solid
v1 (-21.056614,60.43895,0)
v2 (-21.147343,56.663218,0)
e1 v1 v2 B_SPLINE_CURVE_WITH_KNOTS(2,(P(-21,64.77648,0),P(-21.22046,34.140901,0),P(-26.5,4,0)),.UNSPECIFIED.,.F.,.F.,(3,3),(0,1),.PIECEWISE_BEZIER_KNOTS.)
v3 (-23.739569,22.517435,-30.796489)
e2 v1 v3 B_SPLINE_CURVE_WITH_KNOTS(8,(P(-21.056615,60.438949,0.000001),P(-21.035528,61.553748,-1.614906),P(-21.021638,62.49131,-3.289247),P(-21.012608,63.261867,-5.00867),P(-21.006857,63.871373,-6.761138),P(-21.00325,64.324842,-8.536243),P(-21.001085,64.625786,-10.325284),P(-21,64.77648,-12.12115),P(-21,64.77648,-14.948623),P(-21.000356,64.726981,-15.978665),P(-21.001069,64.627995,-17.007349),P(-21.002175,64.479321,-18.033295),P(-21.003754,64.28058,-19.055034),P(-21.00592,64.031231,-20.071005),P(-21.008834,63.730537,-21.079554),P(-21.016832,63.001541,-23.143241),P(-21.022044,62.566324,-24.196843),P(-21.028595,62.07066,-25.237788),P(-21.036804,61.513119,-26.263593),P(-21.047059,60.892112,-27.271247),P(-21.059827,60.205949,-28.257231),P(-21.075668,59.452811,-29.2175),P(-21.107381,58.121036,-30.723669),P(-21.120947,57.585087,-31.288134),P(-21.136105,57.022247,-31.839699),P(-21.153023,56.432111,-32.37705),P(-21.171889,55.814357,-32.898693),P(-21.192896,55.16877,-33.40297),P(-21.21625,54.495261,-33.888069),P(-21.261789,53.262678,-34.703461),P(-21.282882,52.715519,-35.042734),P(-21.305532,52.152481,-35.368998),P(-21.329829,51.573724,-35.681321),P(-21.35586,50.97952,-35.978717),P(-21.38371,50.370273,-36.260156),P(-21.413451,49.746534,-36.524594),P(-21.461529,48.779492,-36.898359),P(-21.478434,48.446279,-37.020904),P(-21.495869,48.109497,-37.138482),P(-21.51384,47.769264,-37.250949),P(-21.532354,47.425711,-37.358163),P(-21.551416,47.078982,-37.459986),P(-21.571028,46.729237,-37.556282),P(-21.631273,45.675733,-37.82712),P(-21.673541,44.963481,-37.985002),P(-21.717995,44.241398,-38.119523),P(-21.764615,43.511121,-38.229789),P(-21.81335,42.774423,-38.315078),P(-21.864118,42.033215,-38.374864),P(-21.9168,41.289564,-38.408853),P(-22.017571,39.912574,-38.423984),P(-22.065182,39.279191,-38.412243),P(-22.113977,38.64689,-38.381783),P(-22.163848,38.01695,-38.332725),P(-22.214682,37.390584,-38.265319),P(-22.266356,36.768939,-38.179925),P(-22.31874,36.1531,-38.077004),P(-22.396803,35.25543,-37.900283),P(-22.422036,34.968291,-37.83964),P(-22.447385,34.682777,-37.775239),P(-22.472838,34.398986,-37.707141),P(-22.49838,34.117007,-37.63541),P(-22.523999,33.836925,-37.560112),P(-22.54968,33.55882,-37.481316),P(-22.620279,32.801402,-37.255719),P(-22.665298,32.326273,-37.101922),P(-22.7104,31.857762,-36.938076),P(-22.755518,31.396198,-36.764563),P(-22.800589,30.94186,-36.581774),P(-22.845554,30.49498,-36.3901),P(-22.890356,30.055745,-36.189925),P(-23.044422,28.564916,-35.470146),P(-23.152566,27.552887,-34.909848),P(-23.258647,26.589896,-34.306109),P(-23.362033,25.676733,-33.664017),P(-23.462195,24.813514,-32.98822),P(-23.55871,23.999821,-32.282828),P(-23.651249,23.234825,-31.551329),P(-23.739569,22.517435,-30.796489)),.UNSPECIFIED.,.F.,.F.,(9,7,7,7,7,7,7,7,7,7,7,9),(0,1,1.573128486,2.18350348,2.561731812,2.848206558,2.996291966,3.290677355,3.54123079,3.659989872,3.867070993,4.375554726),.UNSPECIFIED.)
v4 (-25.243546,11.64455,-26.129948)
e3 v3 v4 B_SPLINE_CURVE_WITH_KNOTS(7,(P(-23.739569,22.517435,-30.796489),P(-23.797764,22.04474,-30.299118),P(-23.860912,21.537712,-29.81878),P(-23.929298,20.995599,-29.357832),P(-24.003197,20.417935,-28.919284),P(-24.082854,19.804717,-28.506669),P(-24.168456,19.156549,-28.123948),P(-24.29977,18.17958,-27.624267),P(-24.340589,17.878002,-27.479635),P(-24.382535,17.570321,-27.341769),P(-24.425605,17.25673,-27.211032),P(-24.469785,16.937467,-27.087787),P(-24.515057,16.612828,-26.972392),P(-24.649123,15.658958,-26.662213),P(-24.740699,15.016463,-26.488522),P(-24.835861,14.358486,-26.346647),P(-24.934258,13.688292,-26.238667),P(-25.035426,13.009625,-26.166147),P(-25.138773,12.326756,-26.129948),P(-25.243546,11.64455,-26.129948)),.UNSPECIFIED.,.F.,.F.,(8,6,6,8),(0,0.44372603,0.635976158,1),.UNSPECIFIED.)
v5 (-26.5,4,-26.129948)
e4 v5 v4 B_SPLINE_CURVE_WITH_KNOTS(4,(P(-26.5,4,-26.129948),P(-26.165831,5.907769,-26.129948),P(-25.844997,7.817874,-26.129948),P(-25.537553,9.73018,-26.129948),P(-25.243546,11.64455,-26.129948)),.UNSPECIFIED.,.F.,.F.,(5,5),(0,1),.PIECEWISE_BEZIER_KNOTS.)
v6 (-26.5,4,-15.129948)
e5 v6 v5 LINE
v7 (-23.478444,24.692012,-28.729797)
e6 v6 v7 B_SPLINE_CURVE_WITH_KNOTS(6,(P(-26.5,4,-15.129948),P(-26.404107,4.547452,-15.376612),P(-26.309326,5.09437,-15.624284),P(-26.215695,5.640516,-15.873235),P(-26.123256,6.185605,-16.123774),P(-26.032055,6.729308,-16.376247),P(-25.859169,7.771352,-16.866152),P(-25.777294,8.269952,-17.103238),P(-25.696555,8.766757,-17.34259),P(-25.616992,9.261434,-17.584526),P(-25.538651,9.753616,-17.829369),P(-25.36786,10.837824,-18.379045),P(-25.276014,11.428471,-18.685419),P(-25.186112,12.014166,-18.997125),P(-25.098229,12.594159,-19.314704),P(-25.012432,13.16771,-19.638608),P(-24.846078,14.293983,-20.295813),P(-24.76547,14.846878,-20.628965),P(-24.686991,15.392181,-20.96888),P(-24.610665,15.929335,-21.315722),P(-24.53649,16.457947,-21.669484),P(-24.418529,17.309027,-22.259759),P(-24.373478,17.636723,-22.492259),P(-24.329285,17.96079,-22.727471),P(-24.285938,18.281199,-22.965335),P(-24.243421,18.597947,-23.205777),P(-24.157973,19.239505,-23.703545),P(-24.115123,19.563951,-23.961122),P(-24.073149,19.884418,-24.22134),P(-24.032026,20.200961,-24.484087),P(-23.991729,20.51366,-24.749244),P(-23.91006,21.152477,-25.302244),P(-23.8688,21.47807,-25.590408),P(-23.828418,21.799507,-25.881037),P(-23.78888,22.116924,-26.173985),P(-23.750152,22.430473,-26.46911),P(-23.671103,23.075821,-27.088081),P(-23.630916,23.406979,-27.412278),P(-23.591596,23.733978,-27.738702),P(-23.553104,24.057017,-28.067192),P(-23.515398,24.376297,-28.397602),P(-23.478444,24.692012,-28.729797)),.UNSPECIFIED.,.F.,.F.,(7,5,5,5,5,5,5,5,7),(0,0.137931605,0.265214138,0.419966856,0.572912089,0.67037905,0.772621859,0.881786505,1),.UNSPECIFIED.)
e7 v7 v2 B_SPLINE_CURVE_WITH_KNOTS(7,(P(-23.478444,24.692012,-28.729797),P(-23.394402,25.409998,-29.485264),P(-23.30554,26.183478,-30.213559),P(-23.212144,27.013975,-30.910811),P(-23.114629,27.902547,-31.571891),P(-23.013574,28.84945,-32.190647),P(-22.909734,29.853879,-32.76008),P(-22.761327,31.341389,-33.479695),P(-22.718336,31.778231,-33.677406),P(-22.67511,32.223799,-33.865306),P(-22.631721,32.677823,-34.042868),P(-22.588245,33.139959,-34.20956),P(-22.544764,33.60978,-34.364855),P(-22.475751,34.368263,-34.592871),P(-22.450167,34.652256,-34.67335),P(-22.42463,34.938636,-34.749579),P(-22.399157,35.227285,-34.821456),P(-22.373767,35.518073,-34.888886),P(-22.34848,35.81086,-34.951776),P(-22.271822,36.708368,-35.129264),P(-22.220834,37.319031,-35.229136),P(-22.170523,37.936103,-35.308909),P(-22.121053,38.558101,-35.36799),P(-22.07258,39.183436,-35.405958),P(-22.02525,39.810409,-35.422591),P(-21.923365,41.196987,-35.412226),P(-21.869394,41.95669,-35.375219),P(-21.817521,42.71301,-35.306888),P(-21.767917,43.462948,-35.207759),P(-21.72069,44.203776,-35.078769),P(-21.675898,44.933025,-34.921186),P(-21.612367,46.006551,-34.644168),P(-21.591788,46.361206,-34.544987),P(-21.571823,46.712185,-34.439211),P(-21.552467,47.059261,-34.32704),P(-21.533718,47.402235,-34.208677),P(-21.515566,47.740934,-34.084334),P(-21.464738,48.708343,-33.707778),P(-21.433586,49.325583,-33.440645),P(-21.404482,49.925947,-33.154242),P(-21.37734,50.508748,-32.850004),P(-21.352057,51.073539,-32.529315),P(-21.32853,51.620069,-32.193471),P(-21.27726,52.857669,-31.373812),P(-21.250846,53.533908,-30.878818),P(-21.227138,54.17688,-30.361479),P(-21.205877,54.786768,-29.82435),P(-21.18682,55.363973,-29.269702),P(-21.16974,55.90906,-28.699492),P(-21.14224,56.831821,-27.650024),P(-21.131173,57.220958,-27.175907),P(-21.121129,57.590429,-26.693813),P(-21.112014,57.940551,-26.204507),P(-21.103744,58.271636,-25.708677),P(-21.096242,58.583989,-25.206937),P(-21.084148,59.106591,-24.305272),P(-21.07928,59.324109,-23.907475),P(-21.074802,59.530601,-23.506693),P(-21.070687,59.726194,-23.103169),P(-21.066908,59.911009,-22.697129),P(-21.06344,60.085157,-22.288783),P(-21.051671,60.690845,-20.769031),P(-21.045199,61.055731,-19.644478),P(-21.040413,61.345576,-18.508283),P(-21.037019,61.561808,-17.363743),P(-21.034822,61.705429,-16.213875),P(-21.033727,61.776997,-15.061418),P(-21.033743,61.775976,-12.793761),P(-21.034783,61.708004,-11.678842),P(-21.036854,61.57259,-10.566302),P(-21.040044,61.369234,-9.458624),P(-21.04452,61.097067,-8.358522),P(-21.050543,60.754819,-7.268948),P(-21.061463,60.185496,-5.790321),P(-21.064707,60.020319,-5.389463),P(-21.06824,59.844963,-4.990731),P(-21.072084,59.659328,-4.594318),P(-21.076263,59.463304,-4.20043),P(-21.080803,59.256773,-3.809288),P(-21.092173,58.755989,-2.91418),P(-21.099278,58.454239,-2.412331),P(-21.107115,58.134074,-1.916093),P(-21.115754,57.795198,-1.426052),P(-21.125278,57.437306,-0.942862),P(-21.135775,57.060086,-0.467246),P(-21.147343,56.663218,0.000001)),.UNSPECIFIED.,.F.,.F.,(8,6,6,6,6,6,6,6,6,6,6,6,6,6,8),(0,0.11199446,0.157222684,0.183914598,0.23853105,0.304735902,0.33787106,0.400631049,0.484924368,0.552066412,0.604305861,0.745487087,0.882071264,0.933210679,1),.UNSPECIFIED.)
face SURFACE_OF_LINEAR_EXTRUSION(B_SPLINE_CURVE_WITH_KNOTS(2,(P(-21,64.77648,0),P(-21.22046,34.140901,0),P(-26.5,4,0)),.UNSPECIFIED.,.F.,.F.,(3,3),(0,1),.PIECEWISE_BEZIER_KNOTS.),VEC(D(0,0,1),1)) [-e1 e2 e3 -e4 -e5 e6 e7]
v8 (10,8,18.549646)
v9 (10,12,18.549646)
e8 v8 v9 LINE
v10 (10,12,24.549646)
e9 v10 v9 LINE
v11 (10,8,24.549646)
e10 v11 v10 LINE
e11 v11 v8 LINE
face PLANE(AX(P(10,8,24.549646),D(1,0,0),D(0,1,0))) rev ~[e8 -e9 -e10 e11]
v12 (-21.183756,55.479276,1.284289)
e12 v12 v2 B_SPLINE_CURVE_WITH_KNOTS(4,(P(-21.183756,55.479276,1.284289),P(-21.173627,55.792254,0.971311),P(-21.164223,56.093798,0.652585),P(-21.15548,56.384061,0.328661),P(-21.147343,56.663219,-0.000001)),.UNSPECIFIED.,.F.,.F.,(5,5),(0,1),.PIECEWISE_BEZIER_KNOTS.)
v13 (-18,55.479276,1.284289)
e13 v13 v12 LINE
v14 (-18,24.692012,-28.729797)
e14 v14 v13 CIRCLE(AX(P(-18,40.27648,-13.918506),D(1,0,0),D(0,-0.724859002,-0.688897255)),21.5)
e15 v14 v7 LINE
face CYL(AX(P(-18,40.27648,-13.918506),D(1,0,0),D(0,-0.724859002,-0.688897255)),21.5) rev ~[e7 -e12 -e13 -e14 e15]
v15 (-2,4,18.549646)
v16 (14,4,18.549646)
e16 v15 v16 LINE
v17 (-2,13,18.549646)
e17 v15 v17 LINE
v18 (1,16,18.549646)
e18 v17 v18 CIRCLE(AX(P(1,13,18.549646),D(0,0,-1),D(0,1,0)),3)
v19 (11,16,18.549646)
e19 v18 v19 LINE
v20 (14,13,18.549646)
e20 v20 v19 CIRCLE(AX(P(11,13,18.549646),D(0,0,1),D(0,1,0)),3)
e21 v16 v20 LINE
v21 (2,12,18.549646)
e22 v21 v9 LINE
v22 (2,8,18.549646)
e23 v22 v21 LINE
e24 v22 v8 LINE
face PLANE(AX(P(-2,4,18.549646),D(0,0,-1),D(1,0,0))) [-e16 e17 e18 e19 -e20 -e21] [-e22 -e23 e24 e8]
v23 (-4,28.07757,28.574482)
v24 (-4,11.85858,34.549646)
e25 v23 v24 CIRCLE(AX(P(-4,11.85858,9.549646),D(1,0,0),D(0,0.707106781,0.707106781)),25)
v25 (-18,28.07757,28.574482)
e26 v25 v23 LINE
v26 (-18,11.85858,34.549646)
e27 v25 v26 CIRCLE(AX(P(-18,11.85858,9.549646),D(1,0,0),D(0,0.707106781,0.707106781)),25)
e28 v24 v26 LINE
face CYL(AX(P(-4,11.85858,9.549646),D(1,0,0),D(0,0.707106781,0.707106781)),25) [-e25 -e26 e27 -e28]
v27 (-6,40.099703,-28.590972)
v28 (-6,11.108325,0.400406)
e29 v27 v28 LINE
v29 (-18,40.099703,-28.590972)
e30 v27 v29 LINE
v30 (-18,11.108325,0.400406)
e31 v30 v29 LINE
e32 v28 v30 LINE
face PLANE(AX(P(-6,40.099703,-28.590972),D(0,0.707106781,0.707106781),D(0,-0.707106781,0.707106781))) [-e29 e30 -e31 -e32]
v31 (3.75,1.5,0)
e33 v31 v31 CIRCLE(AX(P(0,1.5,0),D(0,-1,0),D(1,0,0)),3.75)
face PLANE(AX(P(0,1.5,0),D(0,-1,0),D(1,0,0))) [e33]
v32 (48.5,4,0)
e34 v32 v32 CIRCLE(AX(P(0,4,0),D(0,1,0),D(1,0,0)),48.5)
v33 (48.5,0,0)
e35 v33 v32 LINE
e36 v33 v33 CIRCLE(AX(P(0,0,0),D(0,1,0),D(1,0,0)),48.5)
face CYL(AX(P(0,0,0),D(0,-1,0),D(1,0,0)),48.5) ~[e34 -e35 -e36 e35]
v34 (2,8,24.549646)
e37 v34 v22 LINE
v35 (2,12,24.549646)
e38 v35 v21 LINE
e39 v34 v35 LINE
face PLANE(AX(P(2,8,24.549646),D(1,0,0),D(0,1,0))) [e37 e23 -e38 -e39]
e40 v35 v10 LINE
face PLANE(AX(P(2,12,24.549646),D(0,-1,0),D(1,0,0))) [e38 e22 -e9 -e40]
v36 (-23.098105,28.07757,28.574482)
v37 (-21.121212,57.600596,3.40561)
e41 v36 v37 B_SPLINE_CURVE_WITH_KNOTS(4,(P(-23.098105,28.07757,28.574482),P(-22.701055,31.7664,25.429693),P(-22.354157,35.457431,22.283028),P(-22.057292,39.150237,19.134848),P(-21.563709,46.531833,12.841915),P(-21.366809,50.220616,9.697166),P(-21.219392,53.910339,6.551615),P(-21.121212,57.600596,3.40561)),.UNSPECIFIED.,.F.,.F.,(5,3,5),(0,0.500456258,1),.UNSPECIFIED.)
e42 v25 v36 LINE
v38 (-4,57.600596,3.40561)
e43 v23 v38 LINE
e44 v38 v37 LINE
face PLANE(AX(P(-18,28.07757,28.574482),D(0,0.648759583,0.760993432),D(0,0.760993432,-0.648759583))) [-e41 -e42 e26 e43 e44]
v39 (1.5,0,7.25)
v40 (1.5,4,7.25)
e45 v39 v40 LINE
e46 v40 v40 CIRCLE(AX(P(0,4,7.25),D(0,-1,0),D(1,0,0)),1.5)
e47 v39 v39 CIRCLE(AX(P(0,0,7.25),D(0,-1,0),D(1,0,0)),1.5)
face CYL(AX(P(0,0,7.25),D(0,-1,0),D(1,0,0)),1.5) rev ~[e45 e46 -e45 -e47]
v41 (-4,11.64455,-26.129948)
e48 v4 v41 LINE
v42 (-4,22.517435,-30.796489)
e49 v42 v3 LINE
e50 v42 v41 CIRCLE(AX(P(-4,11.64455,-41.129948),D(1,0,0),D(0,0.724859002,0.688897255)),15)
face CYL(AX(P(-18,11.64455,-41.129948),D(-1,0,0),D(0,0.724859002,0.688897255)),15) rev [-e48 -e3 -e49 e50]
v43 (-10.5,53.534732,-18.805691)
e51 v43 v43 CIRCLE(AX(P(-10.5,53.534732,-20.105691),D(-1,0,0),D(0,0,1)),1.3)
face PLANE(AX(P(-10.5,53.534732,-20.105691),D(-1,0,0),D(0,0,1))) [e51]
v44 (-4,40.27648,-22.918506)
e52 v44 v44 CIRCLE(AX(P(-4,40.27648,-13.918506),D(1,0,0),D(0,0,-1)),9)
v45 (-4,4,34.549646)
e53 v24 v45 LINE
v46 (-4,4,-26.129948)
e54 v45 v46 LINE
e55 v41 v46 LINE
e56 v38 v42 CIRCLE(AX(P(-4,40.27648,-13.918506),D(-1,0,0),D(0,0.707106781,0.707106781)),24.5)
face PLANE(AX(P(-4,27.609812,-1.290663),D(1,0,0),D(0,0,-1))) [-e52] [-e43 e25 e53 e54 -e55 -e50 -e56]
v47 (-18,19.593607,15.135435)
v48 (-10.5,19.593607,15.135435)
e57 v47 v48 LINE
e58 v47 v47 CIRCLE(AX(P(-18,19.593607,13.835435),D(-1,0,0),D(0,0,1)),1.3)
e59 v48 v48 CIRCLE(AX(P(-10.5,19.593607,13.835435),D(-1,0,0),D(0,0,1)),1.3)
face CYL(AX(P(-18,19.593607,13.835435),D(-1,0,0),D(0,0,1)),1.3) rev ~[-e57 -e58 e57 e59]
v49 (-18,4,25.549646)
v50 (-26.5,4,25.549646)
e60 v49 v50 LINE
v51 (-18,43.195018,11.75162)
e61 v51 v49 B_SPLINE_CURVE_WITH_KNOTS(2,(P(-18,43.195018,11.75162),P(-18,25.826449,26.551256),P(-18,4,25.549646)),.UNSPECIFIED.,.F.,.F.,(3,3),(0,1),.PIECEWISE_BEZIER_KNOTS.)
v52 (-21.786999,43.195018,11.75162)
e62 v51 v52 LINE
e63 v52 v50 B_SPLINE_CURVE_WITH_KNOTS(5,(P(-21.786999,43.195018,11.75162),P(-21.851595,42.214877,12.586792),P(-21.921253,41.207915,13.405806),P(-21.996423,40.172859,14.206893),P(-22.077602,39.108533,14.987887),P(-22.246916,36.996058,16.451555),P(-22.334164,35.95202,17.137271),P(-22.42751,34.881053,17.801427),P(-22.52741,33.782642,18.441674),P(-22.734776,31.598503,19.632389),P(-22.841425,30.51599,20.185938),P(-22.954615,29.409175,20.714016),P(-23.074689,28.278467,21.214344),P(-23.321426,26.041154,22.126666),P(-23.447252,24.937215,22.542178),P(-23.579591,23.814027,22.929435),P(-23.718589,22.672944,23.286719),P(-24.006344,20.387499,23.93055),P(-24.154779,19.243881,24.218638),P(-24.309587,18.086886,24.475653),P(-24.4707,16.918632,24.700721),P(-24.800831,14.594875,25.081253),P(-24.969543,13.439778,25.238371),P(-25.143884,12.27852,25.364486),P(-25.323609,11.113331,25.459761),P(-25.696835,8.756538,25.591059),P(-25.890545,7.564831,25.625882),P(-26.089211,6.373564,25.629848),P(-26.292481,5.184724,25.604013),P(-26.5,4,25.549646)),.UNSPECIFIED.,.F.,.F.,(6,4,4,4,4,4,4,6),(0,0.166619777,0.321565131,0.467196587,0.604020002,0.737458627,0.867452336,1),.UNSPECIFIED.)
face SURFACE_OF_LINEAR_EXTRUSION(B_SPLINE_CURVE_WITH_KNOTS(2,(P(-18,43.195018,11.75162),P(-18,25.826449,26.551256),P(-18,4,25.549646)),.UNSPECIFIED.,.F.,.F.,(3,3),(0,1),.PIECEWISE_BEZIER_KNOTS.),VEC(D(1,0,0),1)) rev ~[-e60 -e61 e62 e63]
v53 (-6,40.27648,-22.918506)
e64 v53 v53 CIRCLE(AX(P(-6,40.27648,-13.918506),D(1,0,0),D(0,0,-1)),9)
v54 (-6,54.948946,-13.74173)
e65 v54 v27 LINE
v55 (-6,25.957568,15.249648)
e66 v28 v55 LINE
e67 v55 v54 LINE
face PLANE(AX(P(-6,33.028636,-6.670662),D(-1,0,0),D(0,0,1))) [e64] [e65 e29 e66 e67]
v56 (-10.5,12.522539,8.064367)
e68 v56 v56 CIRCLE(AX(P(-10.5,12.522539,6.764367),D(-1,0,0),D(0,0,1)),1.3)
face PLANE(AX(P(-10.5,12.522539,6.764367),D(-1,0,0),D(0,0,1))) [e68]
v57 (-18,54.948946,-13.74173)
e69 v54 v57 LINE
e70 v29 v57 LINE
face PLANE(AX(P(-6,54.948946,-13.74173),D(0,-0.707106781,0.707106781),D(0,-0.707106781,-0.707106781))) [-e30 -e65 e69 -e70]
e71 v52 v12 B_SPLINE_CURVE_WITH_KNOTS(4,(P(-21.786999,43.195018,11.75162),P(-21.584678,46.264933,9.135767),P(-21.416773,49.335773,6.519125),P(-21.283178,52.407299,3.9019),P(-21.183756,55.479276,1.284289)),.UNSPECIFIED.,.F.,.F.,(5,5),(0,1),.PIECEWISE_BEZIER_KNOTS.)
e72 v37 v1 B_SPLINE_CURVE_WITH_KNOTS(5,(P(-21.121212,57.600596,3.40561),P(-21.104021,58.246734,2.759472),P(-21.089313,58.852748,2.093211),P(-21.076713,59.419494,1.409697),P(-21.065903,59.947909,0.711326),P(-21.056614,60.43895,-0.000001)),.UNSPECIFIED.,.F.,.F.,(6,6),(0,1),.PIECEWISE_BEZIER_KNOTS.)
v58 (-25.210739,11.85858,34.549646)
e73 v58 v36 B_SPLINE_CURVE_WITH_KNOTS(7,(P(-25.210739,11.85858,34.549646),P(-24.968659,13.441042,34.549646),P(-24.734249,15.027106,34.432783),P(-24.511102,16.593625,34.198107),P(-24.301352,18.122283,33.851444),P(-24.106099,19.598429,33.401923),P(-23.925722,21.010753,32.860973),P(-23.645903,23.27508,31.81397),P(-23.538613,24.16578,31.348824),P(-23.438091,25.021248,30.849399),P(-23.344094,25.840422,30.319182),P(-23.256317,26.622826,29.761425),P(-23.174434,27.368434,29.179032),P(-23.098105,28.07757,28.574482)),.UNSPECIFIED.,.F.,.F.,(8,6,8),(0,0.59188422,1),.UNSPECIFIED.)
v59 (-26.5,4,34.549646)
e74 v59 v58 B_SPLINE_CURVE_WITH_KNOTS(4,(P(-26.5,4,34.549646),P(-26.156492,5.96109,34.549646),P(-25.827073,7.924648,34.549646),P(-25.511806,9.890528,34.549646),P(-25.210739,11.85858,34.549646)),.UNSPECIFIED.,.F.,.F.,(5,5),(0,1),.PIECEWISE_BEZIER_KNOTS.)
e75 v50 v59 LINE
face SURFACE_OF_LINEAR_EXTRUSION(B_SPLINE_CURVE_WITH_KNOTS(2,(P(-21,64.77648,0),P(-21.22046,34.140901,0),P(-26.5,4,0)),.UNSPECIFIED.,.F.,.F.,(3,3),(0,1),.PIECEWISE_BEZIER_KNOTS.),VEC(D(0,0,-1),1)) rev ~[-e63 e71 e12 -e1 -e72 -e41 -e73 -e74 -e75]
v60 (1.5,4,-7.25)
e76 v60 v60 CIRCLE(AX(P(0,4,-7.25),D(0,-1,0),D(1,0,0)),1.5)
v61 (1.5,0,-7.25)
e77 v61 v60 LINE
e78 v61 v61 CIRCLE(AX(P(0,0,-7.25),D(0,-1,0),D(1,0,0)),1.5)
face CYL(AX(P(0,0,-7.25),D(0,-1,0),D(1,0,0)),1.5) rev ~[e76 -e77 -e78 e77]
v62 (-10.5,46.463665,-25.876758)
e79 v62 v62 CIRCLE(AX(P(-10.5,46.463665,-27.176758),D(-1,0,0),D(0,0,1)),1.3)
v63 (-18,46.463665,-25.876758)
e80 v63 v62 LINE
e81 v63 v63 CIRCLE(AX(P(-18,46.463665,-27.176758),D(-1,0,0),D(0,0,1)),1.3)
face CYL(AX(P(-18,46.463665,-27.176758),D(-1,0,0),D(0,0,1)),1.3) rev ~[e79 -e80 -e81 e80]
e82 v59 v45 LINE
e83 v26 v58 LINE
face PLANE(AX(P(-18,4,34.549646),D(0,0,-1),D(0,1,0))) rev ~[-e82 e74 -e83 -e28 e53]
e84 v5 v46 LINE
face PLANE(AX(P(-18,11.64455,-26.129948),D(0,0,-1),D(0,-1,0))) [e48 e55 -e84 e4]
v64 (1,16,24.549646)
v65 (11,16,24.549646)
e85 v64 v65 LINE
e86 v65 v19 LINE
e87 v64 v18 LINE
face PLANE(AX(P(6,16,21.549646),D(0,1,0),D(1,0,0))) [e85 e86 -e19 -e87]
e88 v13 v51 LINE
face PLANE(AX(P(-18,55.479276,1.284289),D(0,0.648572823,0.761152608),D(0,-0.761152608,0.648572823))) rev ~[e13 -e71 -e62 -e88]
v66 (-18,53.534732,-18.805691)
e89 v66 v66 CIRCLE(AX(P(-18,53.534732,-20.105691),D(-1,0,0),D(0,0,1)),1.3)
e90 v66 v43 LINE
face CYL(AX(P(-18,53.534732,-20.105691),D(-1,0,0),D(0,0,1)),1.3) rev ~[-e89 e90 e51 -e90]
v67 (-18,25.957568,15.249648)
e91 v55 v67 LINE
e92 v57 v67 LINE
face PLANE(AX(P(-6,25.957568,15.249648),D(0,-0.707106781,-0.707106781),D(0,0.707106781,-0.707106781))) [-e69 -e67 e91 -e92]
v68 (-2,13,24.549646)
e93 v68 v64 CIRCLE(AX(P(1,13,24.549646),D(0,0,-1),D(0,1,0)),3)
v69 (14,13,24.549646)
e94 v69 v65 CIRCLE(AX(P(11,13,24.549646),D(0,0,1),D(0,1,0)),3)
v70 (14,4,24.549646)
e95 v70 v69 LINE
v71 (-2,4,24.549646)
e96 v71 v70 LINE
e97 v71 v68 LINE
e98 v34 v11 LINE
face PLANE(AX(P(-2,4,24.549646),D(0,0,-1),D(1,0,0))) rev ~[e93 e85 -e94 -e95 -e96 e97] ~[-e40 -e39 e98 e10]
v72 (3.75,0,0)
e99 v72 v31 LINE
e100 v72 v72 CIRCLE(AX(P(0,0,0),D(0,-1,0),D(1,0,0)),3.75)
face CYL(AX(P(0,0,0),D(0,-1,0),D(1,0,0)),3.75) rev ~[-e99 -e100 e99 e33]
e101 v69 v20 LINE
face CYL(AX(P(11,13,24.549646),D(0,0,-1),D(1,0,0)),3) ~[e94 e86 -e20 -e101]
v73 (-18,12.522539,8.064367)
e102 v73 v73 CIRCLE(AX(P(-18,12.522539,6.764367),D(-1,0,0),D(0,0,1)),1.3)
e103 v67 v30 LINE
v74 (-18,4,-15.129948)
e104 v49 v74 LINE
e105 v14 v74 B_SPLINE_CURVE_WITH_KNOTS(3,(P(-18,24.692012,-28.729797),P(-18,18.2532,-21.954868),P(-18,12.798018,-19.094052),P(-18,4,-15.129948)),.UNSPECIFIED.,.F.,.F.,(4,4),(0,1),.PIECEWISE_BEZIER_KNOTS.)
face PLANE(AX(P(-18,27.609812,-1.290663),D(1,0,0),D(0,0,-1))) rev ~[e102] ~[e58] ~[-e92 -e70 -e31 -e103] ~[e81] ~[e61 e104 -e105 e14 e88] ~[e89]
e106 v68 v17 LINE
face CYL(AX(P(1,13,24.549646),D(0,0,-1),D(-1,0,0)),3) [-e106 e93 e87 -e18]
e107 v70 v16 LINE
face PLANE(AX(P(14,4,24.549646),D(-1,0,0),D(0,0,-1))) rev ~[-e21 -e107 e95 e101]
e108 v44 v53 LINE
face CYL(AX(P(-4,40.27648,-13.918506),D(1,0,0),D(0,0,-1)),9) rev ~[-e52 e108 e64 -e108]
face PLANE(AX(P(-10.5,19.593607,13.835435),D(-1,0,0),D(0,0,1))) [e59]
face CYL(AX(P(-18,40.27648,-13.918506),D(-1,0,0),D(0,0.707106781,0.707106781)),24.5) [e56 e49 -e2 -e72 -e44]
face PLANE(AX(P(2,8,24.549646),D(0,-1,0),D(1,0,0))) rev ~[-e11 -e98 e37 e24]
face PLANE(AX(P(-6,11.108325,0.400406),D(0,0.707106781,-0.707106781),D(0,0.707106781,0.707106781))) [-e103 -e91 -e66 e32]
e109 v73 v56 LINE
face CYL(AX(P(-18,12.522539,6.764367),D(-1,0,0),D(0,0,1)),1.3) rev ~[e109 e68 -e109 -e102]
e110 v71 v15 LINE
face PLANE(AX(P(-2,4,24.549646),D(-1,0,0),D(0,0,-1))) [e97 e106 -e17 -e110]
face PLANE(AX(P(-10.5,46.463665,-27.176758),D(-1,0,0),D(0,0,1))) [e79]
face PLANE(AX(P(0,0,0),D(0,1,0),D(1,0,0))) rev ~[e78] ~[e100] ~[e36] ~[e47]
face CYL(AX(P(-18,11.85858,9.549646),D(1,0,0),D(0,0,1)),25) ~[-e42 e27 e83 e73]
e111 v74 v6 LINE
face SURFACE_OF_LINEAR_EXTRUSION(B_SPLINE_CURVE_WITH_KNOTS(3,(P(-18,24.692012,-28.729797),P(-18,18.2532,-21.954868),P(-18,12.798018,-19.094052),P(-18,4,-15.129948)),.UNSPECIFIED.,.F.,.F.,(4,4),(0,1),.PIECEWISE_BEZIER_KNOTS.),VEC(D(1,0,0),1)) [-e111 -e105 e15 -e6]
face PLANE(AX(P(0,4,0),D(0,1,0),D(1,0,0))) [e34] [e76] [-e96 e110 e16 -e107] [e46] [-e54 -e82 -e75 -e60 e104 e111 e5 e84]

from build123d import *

# Parameters (mm, degrees)
SKETCH2_R                = 48.5
BOSS_EXTRUDE1_DEPTH      = 4
SKETCH4_R                = 1.5
CUT_EXTRUDE2_DEPTH       = 5
SKETCH5_R                = 3.75
CUT_EXTRUDE3_DEPTH       = 1.5
BOSS_EXTRUDE2_DEPTH      = 14
CUT_EXTRUDE5_REACH       = 44.5
SKETCH9_R                = 1.3
CUT_EXTRUDE6_DEPTH       = 7.5
CUT_EXTRUDE9_REACH       = 46.5
SKETCH11_R               = 9
BOSS_EXTRUDE7_DEPTH      = 9
BOSS_EXTRUDE7_DEPTH_BACK = 14
BOSS_EXTRUDE10_DEPTH     = 9
SKETCH27_W               = 16
SKETCH27_H               = 6
BOSS_EXTRUDE11_DEPTH     = 12
FILLET6_R                = 3
CUT_EXTRUDE16_REACH      = 75.05
SKETCH28_W               = 8
SKETCH28_H               = 4
CUT_EXTRUDE17_DEPTH      = 49.5
CUT_EXTRUDE17_DEPTH_BACK = 49.5


with BuildPart() as part:
    # Sketch2 → Boss-Extrude1 (new body)
    with BuildSketch(Plane(origin=(0, 0, 0), x_dir=(1, 0, 0), z_dir=(0, 1, 0))):
        Circle(SKETCH2_R)
    extrude(amount=BOSS_EXTRUDE1_DEPTH)

    # Sketch4 → Cut-Extrude2 (cut, through all)
    with BuildSketch(Plane.XZ):
        with Locations((0, 7.25)):
            Circle(SKETCH4_R)
        with Locations((0, -7.25)):
            Circle(SKETCH4_R)
    extrude(amount=-CUT_EXTRUDE2_DEPTH, mode=Mode.SUBTRACT)

    # Sketch5 → Cut-Extrude3 (cut)
    with BuildSketch(Plane.XZ):
        Circle(SKETCH5_R)
    extrude(amount=-CUT_EXTRUDE3_DEPTH, mode=Mode.SUBTRACT)

    # Sketch7 → Boss-Extrude2 (add)
    with BuildSketch(Plane(origin=(-4, 0, 0), x_dir=(0, 0, -1), z_dir=(1, 0, 0))):
        with BuildLine():
            Line((23.129947874, 4), (23.129947874, 11.644549616))
            ThreePointArc((23.129947874, 11.644549616), (24.589048403, 18.743749901), (28.729797284, 24.692011643))
            ThreePointArc((28.729797284, 24.692011643), (29.313383054, 55.284736897), (-1.284289494, 55.479275971))
            Line((-1.284289494, 55.479275971), (-27.227315747, 29.536249718))
            ThreePointArc((-27.227315747, 29.536249718), (-32.64663453, 21.425665997), (-34.549646217, 11.858580188))
            Line((-34.549646217, 11.858580188), (-34.549646217, 4))
            Line((-34.549646217, 4), (23.129947874, 4))
        make_face()
    extrude(amount=-BOSS_EXTRUDE2_DEPTH)

    # Sketch8 → Cut-Extrude5 (cut, up to next)
    with BuildSketch(Plane(origin=(-6, 0, 0), x_dir=(0, 0, -1), z_dir=(1, 0, 0)), mode=Mode.PRIVATE) as cut_extrude5_sk1:
        Polygon((-15.249648422, 25.957567857), (13.741729607, 54.948945886), (28.590972012, 40.099703481), (-0.400406017, 11.108325452), align=None)
    cut_extrude5_tool1 = extrude(cut_extrude5_sk1.sketch, amount=-CUT_EXTRUDE5_REACH, mode=Mode.PRIVATE) & part.part
    add(cut_extrude5_tool1.solids().sort_by_distance((-6, 33.028636, -6.670662))[0], mode=Mode.SUBTRACT)

    # Sketch9 → Cut-Extrude6 (cut)
    with BuildSketch(Plane.ZY.offset(18)):
        with Locations((-20.105690637, 53.534732323)):
            Circle(SKETCH9_R)
        with Locations((-27.176758449, 46.463664511)):
            Circle(SKETCH9_R)
        with Locations((6.764367048, 12.522539014)):
            Circle(SKETCH9_R)
        with Locations((13.83543486, 19.593606826)):
            Circle(SKETCH9_R)
    extrude(amount=-CUT_EXTRUDE6_DEPTH, mode=Mode.SUBTRACT)

    # Sketch11 → Cut-Extrude9 (cut, up to next)
    with BuildSketch(Plane(origin=(-4, 0, 0), x_dir=(0, 0, -1), z_dir=(1, 0, 0)), mode=Mode.PRIVATE) as cut_extrude9_sk1:
        with Locations((13.918506302, 40.276480176)):
            Circle(SKETCH11_R)
    cut_extrude9_tool1 = extrude(cut_extrude9_sk1.sketch, amount=-CUT_EXTRUDE9_REACH, mode=Mode.PRIVATE) & part.part
    add(cut_extrude9_tool1.solids().sort_by_distance((-4, 40.27648, -13.918506))[0], mode=Mode.SUBTRACT)

    # Sketch17 → Boss-Extrude7 (add, two sides)
    with BuildSketch(Plane.ZY.offset(18)) as boss_extrude7_sk:
        with BuildLine():
            ThreePointArc((34.549646217, 11.858580188), (33.008342843, 20.500891953), (28.574482006, 28.077569775))
            ThreePointArc((28.574482006, 28.077569775), (27.915386359, 28.820289685), (27.227315747, 29.536249718))
            Line((27.227315747, 29.536249718), (1.284289494, 55.479275971))
            Line((1.284289494, 55.479275971), (26.295003593, 26.127182305))
            ThreePointArc((26.295003593, 26.127182305), (30.194232218, 19.461281607), (31.549646217, 11.858580188))
            Line((31.549646217, 11.858580188), (31.549646217, 4))
            Line((31.549646217, 4), (34.549646217, 4))
            Line((34.549646217, 4), (34.549646217, 11.858580188))
        make_face()
        with BuildLine():
            Line((28.574482006, 28.077569775), (3.405609837, 57.600596315))
            ThreePointArc((3.405609837, 57.600596315), (-31.461505391, 57.378912253), (-30.796489049, 22.517434639))
            ThreePointArc((-30.796489049, 22.517434639), (-27.345864981, 17.560549854), (-26.129947874, 11.644549616))
            Line((-26.129947874, 11.644549616), (-26.129947874, 4))
            Line((-26.129947874, 4), (-23.129947874, 4))
            Line((-23.129947874, 4), (-23.129947874, 11.644549616))
            ThreePointArc((-23.129947874, 11.644549616), (-24.589048403, 18.743749901), (-28.729797284, 24.692011643))
            ThreePointArc((-28.729797284, 24.692011643), (-29.313383054, 55.284736897), (1.284289494, 55.479275971))
            Line((1.284289494, 55.479275971), (27.227315747, 29.536249718))
            ThreePointArc((27.227315747, 29.536249718), (27.915386359, 28.820289685), (28.574482006, 28.077569775))
        make_face()
    extrude(amount=BOSS_EXTRUDE7_DEPTH)
    extrude(boss_extrude7_sk.sketch, amount=-BOSS_EXTRUDE7_DEPTH_BACK)

    # Sketch25 → Boss-Extrude10 (add)
    with BuildSketch(Plane.ZY.offset(18)):
        with BuildLine():
            ThreePointArc((-28.729797284, 24.692011643), (-24.589048403, 18.743749901), (-23.129947874, 11.644549616))
            Line((-23.129947874, 11.644549616), (-23.129947874, 4))
            Line((-23.129947874, 4), (-15.129947874, 4))
            add(Edge.make_bspline(
                [(-28.729797284, 24.692011643), (-21.954867515, 18.253200081), (-19.09405247, 12.798017691), (-15.129947874, 4)],
                knots=[0, 0, 0, 0, 1, 1, 1, 1], degree=3))
        make_face()
        with BuildLine():
            add(Edge.make_bspline(
                [(11.751619577, 43.19501844), (26.551255916, 25.8264495), (25.549646217, 4)],
                knots=[0, 0, 0, 1, 1, 1], degree=2))
            Line((25.549646217, 4), (31.549646217, 4))
            Line((31.549646217, 4), (31.549646217, 11.858580188))
            ThreePointArc((31.549646217, 11.858580188), (30.194232218, 19.461281607), (26.295003593, 26.127182305))
            Line((26.295003593, 26.127182305), (11.751619577, 43.19501844))
        make_face()
    extrude(amount=BOSS_EXTRUDE10_DEPTH)

    # Sketch27 → Boss-Extrude11 (add)
    with BuildSketch(Plane(origin=(0, 4, 0), x_dir=(1, 0, 0), z_dir=(0, 1, 0))):
        with Locations((6, -21.549646217)):
            Rectangle(SKETCH27_W, SKETCH27_H)
    extrude(amount=BOSS_EXTRUDE11_DEPTH)

    # Fillet6
    fillet6_edges = [part.edges().sort_by_distance(p)[0] for p in [
        (-2, 16, 21.549646217),
        (14, 16, 21.549646217),
    ]]
    fillet(fillet6_edges, radius=FILLET6_R)

    # Sketch28 → Cut-Extrude16 (cut, up to next)
    with BuildSketch(Plane.XY.offset(24.549646217), mode=Mode.PRIVATE) as cut_extrude16_sk1:
        with Locations((6, 10)):
            Rectangle(SKETCH28_W, SKETCH28_H)
    cut_extrude16_tool1 = extrude(cut_extrude16_sk1.sketch, amount=-CUT_EXTRUDE16_REACH, mode=Mode.PRIVATE) & part.part
    add(cut_extrude16_tool1.solids().sort_by_distance((6, 10, 24.549646))[0], mode=Mode.SUBTRACT)

    # Sketch29 → Cut-Extrude17 (cut, two sides)
    with BuildSketch(Plane.XY) as cut_extrude17_sk:
        with BuildLine():
            Line((-21, 64.776480176), (-27, 64.776480176))
            Line((-27, 64.776480176), (-27, 4))
            Line((-27, 4), (-26.5, 4))
            add(Edge.make_bspline(
                [(-21, 64.776480176), (-21.220459696, 34.140901434), (-26.5, 4)],
                knots=[0, 0, 0, 1, 1, 1], degree=2))
        make_face()
    extrude(amount=CUT_EXTRUDE17_DEPTH, mode=Mode.SUBTRACT)
    extrude(cut_extrude17_sk.sketch, amount=-CUT_EXTRUDE17_DEPTH_BACK, mode=Mode.SUBTRACT)


solid = part.part
